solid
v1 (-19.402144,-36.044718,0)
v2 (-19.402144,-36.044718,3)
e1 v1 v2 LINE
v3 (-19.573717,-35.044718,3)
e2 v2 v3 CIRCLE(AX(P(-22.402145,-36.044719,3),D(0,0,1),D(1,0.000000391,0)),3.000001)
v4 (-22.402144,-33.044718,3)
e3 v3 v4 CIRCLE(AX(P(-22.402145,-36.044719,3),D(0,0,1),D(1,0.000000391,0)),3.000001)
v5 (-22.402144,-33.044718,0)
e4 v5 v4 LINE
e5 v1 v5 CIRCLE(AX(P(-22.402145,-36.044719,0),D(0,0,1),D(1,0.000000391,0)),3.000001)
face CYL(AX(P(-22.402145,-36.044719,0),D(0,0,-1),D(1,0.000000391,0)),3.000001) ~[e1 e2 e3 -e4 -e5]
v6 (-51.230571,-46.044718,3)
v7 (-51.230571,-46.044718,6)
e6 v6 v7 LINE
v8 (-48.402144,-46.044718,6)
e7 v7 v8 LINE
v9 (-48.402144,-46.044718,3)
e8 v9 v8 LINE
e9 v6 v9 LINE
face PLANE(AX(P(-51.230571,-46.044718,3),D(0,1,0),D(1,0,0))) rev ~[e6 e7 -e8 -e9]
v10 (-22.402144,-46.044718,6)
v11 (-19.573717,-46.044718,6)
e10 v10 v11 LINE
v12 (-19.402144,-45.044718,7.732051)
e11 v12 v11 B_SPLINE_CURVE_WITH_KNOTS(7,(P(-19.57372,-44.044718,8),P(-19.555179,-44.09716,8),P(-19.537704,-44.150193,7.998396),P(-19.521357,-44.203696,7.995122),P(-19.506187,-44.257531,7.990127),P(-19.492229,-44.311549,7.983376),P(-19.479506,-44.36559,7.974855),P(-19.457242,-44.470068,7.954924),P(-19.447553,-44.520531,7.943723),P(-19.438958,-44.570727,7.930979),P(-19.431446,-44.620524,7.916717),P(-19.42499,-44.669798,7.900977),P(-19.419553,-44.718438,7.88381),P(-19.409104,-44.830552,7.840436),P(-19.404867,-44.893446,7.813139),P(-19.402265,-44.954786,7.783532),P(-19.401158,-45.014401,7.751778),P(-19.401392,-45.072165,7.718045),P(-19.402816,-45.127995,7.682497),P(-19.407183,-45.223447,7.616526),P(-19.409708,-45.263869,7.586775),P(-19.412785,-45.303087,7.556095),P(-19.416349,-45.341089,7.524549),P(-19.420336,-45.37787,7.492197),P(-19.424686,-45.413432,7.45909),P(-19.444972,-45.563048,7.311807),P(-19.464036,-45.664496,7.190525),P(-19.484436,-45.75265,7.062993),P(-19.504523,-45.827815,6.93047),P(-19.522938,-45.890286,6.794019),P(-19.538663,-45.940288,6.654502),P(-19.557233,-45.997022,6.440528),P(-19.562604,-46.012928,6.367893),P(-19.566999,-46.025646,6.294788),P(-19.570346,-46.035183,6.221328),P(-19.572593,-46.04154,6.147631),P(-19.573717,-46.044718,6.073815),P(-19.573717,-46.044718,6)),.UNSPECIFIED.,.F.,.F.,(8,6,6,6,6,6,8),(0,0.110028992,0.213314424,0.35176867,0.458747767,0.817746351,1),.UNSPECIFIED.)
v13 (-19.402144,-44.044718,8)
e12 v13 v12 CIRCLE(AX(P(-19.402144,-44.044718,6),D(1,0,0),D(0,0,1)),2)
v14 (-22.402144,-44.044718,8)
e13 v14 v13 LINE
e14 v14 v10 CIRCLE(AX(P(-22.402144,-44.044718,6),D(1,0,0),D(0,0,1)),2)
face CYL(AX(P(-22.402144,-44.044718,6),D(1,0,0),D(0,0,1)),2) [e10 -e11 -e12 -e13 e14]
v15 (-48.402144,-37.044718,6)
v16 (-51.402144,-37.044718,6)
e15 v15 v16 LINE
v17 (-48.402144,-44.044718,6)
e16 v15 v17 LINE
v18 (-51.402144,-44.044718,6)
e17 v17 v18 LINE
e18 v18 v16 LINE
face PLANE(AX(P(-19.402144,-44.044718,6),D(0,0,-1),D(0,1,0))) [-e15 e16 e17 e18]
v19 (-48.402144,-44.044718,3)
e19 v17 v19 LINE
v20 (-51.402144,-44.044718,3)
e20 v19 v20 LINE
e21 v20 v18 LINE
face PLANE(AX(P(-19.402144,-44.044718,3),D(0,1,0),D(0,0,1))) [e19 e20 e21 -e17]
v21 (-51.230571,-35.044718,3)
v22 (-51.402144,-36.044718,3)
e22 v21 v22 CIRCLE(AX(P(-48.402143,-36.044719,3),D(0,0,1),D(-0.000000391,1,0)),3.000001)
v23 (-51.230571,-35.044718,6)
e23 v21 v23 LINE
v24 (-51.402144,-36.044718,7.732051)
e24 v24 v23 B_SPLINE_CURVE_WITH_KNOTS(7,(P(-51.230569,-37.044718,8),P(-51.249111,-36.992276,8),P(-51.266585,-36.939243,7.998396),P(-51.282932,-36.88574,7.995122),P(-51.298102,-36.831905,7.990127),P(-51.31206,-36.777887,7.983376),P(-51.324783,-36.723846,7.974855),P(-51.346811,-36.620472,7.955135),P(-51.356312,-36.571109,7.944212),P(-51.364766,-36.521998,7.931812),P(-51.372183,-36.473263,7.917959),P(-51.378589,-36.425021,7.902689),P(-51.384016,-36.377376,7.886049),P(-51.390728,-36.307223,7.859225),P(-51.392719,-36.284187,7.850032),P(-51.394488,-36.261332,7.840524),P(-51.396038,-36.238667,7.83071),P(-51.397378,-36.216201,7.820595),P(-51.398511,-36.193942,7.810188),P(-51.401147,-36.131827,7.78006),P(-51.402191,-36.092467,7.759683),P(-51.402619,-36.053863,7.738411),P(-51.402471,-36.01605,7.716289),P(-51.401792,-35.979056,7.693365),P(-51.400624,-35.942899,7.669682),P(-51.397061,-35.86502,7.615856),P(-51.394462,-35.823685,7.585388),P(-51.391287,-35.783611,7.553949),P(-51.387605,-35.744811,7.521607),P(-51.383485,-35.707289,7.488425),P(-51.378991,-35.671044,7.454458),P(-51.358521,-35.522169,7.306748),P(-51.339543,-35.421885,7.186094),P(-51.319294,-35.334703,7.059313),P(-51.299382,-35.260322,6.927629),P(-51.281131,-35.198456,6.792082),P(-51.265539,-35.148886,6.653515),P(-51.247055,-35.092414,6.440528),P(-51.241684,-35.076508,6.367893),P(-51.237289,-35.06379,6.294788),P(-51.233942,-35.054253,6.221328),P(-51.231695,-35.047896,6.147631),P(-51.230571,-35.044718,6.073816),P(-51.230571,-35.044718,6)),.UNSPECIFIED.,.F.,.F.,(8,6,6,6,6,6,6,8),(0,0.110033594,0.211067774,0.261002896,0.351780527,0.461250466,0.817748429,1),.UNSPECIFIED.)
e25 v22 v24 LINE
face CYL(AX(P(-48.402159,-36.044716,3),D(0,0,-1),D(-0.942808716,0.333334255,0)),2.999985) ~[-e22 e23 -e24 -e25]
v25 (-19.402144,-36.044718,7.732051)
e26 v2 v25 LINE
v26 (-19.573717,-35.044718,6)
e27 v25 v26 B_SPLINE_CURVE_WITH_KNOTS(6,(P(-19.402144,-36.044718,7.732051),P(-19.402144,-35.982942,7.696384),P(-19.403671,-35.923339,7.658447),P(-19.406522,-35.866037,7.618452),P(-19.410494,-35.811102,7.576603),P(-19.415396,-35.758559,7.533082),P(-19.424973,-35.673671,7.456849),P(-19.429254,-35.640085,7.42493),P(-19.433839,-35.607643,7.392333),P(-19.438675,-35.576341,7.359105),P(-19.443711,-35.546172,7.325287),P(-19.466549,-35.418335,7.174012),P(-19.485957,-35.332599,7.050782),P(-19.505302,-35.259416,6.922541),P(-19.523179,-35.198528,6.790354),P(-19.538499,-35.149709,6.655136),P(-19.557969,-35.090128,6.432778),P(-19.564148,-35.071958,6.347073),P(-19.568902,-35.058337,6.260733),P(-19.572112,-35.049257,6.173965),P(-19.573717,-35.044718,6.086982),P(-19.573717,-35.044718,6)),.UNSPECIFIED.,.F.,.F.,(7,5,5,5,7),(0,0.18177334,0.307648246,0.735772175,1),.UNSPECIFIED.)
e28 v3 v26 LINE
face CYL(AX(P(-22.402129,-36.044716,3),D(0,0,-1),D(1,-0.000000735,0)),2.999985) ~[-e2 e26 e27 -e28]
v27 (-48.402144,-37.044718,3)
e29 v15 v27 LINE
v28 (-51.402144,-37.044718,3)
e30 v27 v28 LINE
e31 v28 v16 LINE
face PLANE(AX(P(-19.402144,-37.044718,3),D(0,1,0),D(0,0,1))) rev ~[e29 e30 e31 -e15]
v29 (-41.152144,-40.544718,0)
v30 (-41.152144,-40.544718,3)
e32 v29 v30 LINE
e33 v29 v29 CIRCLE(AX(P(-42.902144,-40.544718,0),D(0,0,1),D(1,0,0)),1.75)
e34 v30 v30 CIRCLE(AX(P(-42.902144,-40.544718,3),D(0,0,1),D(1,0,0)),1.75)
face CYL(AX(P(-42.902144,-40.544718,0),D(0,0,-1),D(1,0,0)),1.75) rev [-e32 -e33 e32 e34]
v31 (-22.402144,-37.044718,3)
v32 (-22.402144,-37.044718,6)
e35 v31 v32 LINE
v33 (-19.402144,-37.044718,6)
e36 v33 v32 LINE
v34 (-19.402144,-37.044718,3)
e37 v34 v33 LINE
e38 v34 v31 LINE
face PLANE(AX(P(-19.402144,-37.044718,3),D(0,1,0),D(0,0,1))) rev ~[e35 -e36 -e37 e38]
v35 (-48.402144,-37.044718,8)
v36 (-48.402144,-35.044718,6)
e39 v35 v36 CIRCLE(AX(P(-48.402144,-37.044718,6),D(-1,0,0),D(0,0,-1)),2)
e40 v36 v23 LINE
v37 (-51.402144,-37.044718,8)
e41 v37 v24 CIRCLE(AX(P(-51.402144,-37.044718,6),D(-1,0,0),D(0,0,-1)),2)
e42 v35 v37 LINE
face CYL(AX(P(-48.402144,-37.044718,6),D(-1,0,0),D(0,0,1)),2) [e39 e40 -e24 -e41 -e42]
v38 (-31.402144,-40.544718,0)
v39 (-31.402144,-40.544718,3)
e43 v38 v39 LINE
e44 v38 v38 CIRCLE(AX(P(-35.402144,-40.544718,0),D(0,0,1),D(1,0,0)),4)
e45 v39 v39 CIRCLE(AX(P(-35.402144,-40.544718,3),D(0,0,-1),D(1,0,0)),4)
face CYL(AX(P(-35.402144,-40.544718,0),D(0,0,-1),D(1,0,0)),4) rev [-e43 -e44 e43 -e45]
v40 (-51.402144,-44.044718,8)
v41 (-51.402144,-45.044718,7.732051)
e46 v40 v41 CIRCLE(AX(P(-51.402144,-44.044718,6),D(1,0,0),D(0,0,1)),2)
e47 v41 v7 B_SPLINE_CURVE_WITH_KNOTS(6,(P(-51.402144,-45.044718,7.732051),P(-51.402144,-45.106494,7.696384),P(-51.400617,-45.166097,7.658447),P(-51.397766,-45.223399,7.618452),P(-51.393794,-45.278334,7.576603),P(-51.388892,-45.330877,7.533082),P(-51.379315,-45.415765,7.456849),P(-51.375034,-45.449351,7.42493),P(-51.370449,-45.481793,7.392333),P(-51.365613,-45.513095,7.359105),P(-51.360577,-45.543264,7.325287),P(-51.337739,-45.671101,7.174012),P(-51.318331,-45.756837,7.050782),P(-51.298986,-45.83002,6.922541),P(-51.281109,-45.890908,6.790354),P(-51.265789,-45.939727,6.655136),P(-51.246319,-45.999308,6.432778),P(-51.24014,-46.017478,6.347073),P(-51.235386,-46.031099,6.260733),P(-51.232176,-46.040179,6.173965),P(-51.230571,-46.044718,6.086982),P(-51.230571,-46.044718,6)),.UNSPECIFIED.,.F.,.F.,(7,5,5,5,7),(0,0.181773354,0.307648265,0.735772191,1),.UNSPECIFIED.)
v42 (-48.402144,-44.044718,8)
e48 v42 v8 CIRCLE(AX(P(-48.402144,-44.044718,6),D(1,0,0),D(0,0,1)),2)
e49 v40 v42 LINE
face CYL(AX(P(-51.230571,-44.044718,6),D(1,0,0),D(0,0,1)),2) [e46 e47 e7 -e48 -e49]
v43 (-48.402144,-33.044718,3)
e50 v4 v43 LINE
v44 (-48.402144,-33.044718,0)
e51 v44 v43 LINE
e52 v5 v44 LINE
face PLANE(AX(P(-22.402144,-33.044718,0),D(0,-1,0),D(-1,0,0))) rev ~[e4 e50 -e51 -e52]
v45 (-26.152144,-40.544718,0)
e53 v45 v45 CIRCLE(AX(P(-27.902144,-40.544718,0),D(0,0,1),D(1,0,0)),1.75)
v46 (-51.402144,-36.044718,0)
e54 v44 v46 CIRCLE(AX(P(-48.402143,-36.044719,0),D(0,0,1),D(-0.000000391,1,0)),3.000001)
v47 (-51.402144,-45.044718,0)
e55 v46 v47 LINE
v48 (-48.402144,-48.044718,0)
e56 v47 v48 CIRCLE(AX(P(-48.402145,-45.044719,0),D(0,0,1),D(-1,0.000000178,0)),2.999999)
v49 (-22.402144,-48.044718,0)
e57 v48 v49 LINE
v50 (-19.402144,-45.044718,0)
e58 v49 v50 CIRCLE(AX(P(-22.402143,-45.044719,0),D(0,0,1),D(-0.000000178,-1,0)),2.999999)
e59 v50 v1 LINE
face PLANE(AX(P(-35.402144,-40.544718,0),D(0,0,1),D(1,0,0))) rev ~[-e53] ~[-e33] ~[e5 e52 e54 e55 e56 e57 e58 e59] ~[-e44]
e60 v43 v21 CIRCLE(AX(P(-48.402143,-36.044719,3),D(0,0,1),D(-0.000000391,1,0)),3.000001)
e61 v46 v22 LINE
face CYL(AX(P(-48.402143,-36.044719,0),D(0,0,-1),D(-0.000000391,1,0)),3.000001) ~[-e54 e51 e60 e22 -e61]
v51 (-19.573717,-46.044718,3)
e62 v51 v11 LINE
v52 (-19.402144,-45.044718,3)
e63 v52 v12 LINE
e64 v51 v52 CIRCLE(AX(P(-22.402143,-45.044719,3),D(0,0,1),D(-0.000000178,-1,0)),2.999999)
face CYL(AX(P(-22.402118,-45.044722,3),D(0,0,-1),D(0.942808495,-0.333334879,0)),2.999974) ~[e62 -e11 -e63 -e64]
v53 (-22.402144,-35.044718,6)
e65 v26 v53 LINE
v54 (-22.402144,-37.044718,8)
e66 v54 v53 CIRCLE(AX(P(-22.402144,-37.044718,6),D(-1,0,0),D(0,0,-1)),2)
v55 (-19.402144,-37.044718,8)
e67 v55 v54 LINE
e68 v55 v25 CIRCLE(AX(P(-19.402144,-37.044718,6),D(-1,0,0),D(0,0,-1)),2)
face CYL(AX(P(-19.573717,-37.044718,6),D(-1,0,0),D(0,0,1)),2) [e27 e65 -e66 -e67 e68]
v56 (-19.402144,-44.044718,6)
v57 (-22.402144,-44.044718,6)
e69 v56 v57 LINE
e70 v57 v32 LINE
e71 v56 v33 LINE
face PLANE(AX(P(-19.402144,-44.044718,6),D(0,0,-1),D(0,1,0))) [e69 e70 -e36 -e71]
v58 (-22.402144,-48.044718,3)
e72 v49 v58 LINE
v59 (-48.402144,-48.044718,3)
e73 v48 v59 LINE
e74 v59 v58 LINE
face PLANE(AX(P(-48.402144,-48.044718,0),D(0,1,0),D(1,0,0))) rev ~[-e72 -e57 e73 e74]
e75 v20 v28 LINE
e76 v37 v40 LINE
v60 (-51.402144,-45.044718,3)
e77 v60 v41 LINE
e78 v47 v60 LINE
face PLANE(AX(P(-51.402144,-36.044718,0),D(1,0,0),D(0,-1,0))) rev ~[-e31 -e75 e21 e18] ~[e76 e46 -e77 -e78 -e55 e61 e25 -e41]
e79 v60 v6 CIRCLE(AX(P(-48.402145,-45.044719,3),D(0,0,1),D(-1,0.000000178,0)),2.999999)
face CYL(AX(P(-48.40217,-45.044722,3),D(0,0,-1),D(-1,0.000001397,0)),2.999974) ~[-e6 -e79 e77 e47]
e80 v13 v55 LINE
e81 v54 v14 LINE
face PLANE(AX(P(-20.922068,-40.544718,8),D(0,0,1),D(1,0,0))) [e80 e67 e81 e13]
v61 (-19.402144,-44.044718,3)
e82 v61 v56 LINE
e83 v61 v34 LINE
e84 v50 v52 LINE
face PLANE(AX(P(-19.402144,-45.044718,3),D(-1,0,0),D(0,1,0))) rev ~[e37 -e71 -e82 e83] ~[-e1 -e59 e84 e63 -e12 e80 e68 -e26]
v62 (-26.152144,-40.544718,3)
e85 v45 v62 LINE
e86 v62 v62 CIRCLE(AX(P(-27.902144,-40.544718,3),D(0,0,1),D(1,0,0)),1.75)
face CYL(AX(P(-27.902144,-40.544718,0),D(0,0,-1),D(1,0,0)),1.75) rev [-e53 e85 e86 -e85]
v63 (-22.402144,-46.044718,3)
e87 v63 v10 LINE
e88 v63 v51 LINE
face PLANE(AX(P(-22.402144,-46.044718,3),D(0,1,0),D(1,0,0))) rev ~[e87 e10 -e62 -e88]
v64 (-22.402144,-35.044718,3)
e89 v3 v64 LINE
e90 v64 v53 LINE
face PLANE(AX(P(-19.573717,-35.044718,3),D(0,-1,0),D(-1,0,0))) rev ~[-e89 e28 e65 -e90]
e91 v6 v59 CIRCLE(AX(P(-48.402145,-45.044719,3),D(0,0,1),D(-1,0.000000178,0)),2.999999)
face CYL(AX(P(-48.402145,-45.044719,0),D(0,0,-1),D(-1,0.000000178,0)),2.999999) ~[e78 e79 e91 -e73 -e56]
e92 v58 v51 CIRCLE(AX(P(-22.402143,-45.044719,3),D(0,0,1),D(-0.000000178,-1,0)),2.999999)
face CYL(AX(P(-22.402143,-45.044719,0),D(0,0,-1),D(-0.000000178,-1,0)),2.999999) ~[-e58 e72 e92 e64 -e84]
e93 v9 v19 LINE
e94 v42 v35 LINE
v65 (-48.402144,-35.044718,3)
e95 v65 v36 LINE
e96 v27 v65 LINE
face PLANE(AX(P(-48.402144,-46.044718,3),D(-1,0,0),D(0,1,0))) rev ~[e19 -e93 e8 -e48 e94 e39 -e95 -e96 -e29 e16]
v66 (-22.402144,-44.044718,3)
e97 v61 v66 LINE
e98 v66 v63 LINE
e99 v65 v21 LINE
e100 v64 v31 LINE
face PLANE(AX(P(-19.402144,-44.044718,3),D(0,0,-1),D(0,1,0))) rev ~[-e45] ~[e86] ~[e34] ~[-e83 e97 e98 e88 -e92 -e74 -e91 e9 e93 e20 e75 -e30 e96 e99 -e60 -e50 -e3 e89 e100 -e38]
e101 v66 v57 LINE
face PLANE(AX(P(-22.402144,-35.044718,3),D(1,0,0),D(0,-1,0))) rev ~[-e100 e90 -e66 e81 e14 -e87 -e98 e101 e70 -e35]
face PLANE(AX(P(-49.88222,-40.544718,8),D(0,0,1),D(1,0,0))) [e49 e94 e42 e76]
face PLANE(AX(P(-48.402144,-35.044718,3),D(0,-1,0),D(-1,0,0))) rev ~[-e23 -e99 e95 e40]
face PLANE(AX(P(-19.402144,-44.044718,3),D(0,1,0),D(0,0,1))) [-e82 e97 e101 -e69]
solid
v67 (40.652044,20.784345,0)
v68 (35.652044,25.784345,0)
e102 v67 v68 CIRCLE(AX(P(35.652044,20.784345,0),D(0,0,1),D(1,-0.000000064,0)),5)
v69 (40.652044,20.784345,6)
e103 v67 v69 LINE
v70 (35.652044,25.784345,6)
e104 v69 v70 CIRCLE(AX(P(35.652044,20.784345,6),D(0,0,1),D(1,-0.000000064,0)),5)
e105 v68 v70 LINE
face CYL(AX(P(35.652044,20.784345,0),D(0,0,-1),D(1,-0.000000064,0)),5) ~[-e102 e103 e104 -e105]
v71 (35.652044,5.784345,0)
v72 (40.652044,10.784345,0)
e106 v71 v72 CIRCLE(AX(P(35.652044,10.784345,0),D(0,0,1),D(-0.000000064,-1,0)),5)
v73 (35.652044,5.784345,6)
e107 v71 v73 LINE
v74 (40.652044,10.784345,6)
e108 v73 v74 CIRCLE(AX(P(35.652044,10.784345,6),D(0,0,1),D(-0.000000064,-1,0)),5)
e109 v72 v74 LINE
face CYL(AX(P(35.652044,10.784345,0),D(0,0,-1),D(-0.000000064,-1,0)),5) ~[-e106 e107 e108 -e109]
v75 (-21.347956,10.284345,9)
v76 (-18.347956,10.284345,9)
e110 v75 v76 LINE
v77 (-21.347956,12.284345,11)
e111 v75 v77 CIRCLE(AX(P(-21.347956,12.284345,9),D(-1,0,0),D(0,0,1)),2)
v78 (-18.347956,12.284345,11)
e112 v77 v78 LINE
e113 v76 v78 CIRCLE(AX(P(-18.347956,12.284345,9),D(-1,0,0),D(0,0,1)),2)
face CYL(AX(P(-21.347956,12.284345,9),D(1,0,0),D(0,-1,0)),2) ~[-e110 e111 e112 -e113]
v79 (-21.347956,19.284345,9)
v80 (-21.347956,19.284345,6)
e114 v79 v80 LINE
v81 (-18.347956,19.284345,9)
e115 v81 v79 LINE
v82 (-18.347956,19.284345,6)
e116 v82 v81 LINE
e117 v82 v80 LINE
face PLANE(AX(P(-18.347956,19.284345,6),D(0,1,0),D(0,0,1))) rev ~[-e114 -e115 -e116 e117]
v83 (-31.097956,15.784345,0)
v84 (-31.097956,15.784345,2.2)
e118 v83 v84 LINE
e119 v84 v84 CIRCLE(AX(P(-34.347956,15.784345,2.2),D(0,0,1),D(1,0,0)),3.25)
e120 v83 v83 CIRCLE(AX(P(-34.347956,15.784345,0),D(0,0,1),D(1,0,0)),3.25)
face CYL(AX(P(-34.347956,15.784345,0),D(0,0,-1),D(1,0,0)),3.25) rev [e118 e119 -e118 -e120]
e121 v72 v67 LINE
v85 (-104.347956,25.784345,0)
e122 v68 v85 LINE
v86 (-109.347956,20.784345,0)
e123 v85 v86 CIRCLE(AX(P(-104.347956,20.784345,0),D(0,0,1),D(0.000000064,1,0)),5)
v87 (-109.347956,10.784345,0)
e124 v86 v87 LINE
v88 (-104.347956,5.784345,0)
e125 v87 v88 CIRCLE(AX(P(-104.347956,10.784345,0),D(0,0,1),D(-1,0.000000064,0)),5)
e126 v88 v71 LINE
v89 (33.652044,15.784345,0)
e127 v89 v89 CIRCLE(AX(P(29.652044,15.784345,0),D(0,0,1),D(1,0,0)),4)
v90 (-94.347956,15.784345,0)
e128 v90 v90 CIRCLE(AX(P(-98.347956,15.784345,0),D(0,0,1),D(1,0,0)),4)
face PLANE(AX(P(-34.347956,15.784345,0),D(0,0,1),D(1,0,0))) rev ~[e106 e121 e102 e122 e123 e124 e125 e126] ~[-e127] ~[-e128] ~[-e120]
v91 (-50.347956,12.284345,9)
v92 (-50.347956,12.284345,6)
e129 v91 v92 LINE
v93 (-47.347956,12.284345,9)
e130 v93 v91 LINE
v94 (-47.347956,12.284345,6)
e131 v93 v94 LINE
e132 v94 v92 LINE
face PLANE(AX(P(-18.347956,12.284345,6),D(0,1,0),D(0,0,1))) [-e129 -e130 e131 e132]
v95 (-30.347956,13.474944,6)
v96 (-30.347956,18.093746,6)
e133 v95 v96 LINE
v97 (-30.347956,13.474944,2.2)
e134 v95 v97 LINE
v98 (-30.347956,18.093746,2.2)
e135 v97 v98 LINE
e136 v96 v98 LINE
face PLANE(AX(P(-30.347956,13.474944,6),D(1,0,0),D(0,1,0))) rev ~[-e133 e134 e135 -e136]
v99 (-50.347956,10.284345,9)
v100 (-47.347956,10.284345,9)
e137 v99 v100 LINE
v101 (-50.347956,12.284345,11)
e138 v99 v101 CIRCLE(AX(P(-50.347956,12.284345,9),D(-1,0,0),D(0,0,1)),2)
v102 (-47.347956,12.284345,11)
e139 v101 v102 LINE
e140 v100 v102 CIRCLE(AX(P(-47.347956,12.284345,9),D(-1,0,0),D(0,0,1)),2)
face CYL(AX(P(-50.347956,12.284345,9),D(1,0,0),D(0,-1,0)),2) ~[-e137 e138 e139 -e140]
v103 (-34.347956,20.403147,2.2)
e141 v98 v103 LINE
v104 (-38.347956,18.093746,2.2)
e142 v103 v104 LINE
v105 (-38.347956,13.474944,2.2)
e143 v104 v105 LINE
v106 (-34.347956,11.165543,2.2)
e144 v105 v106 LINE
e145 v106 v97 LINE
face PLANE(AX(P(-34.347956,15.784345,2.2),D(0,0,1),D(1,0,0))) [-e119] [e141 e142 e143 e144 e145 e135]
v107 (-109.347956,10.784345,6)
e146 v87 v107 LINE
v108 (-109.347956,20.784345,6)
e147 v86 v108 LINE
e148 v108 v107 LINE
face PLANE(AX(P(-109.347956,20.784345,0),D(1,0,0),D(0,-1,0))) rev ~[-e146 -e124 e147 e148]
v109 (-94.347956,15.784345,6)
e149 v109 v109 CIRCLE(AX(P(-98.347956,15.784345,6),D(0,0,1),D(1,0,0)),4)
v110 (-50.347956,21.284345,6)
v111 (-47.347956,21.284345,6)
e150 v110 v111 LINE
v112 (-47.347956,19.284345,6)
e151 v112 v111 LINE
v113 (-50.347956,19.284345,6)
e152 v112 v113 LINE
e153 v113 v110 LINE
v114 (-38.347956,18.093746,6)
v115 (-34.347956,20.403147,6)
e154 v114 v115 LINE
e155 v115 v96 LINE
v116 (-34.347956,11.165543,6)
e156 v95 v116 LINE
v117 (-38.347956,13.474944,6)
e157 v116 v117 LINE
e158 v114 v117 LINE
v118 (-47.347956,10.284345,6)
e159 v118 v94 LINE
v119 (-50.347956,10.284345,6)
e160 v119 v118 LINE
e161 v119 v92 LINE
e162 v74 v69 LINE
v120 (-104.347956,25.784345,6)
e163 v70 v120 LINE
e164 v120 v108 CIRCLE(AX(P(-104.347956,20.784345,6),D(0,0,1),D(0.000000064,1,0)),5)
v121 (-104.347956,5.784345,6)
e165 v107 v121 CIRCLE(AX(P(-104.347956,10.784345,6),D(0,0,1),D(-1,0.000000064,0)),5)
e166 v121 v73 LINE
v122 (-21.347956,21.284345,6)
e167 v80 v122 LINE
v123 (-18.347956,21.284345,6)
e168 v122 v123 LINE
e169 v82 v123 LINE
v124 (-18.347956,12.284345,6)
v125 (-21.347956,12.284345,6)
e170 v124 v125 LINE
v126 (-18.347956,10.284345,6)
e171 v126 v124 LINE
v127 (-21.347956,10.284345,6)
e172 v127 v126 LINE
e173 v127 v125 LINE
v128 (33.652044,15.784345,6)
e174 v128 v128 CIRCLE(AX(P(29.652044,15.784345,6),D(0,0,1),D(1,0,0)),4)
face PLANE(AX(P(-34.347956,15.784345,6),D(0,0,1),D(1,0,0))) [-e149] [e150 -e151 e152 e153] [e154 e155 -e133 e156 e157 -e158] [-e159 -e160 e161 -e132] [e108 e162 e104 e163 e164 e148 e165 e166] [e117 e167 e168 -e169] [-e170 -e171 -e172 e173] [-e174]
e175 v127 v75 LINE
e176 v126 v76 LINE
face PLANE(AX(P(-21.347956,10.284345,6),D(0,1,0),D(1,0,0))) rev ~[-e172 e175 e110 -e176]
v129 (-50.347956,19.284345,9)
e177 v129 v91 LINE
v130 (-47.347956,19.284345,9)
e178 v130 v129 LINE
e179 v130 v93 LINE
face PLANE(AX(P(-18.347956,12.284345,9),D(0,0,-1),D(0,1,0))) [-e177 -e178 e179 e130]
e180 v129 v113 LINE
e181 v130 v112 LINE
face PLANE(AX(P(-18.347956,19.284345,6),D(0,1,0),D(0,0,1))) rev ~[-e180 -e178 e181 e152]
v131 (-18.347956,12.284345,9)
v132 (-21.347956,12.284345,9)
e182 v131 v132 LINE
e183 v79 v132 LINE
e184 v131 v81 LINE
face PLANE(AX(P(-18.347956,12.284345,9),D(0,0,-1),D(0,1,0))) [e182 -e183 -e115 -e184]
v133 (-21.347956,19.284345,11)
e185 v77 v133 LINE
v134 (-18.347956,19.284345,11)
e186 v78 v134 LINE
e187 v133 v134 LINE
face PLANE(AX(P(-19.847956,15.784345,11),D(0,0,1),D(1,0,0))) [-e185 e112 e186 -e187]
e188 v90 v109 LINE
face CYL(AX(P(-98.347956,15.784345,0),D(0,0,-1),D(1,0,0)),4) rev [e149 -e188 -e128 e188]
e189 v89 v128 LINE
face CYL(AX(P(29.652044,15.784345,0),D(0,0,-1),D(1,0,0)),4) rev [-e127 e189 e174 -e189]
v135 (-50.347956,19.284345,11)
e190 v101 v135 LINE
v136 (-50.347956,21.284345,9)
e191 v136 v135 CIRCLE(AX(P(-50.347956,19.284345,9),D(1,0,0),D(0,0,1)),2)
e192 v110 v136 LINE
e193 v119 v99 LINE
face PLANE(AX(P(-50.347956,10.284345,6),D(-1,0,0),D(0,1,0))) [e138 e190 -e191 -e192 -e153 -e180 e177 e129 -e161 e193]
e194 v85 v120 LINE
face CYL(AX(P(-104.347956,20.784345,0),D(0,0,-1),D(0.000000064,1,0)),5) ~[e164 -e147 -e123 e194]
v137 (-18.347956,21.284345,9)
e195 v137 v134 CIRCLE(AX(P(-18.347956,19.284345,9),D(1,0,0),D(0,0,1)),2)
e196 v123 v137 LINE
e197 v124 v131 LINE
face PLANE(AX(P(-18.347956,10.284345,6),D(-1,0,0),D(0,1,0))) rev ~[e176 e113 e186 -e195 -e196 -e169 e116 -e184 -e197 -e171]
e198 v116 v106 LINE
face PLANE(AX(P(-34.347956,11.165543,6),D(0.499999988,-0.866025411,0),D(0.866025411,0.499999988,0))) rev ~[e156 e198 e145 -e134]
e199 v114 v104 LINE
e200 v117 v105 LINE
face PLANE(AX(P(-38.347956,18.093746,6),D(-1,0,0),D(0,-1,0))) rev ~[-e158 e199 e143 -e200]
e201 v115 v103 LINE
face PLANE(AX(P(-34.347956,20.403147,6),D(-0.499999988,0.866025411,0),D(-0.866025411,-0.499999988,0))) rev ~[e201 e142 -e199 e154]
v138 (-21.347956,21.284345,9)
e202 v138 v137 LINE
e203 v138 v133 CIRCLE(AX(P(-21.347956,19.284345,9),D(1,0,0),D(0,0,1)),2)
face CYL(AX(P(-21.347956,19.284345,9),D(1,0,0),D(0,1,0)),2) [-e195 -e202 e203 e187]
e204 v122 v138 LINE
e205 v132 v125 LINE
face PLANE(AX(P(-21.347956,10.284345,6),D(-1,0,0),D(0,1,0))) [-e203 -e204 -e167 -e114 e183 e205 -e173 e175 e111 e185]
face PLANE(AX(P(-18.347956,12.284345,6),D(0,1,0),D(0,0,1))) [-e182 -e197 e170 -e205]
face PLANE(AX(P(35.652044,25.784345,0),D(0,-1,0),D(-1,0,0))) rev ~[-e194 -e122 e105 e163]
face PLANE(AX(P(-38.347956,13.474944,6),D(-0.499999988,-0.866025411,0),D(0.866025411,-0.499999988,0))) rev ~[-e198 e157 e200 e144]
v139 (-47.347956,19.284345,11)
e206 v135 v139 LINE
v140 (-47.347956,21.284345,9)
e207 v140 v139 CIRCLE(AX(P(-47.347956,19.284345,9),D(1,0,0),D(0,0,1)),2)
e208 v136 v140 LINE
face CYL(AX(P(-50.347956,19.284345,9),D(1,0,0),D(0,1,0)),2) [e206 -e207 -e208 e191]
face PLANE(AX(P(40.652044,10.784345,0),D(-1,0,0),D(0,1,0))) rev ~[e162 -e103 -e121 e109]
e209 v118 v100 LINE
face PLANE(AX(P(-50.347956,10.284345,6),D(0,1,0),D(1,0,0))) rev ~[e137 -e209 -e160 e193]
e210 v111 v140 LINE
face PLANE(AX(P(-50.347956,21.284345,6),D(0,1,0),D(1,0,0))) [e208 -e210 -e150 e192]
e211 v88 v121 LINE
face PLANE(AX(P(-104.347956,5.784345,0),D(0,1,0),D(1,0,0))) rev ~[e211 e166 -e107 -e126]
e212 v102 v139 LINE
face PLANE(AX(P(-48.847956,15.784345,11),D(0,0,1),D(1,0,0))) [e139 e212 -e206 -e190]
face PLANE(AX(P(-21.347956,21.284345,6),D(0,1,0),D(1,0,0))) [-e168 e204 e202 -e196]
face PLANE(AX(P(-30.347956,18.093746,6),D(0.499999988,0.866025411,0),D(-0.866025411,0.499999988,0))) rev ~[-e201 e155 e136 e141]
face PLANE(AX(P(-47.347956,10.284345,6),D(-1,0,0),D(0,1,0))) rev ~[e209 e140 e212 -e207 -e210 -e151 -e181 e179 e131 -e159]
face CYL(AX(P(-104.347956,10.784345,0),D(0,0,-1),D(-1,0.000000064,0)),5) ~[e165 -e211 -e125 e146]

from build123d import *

# Parameters (mm, degrees)
F0_R      = 4
F0_R_2    = 3.25
F1_DEPTH  = 6
F2_R      = 3.25
F3_DEPTH  = 3.8
F2_W      = 3
F2_H      = 11
F4_DEPTH  = 5
F5_R      = 2
F6_W      = 7
F6_H      = 3
F7_DEPTH  = 35
F8_R      = 1.75
F8_R_2    = 4
F9_DEPTH  = 3
F11_DEPTH = 5
F12_W     = 7
F12_H     = 3
F13_DEPTH = 35
F14_R     = 2


with BuildPart() as f1:
    # F0 (on Top) → F1 (new body)
    with BuildSketch(Plane.XY):
        with BuildLine():
            Line((35.652044, 25.784345), (-104.347956, 25.784345))
            ThreePointArc((-104.347956, 25.784345), (-107.88349, 24.319879), (-109.347956, 20.784345))
            Line((-109.347956, 20.784345), (-109.347956, 10.784345))
            ThreePointArc((-109.347956, 10.784345), (-107.88349, 7.248811), (-104.347956, 5.784345))
            Line((-104.347956, 5.784345), (35.652044, 5.784345))
            ThreePointArc((35.652044, 5.784345), (39.187578, 7.248811), (40.652044, 10.784345))
            Line((40.652044, 10.784345), (40.652044, 20.784345))
            ThreePointArc((40.652044, 20.784345), (39.187578, 24.319879), (35.652044, 25.784345))
        make_face()
        with Locations((-98.347956, 15.784345)):
            Circle(F0_R, mode=Mode.SUBTRACT)
        with Locations((-34.347956, 15.784345)):
            Circle(F0_R_2, mode=Mode.SUBTRACT)
        with Locations((29.652044, 15.784345)):
            Circle(F0_R, mode=Mode.SUBTRACT)
    extrude(amount=F1_DEPTH)

    # F2 (on face) → F3 (cut)
    with BuildSketch(Plane.XY.offset(6)):
        Polygon((-30.347956, 13.474944), (-30.347956, 18.093746), (-34.347956, 20.403147), (-38.347956, 18.093746), (-38.347956, 13.474944), (-34.347956, 11.165543), align=None)
        with Locations((-34.347956, 15.784345)):
            Circle(F2_R, mode=Mode.SUBTRACT)
    extrude(amount=-F3_DEPTH, mode=Mode.SUBTRACT)

    # F2 (on face) → F4 (join)
    with BuildSketch(Plane.XY.offset(6)):
        with Locations((-19.847956, 15.784345)):
            Rectangle(F2_W, F2_H)
        with Locations((-48.847956, 15.784345)):
            Rectangle(F2_W, F2_H)
    extrude(amount=F4_DEPTH)

    # F5
    f5_edges = [f1.edges().sort_by_distance(p)[0] for p in [
        (-19.847956, 21.284345, 11),
        (-19.847956, 10.284345, 11),
        (-48.847956, 21.284345, 11),
        (-48.847956, 10.284345, 11),
    ]]
    fillet(f5_edges, radius=F5_R)

    # F6 (on face) → F7 (cut)
    with BuildSketch(Plane.YZ.offset(-18.347956)):
        with Locations((15.784345, 7.5)):
            Rectangle(F6_W, F6_H)
    extrude(amount=-F7_DEPTH, mode=Mode.SUBTRACT)


with BuildPart() as f9:
    # F8 (on Top) → F9 (new body)
    with BuildSketch(Plane.XY):
        with BuildLine():
            Line((-22.402144, -33.044718), (-48.402144, -33.044718))
            ThreePointArc((-48.402144, -33.044718), (-50.523464, -33.923398), (-51.402144, -36.044718))
            Line((-51.402144, -36.044718), (-51.402144, -45.044718))
            ThreePointArc((-51.402144, -45.044718), (-50.523464, -47.166039), (-48.402144, -48.044718))
            Line((-48.402144, -48.044718), (-22.402144, -48.044718))
            ThreePointArc((-22.402144, -48.044718), (-20.280824, -47.166039), (-19.402144, -45.044718))
            Line((-19.402144, -45.044718), (-19.402144, -36.044718))
            ThreePointArc((-19.402144, -36.044718), (-20.280824, -33.923398), (-22.402144, -33.044718))
        make_face()
        with Locations((-42.902144, -40.544718)):
            Circle(F8_R, mode=Mode.SUBTRACT)
        with Locations((-35.402144, -40.544718)):
            Circle(F8_R_2, mode=Mode.SUBTRACT)
        with Locations((-27.902144, -40.544718)):
            Circle(F8_R, mode=Mode.SUBTRACT)
    extrude(amount=F9_DEPTH)

    # F10 (on face) → F11 (join)
    with BuildSketch(Plane.XY.offset(3)):
        with BuildLine():
            ThreePointArc((-19.402144, -36.044718), (-19.445348, -35.537413), (-19.573717, -35.044718))
            Line((-19.573717, -35.044718), (-22.402144, -35.044718))
            Line((-22.402144, -35.044718), (-22.402144, -46.044718))
            Line((-22.402144, -46.044718), (-19.573717, -46.044718))
            ThreePointArc((-19.573717, -46.044718), (-19.445348, -45.552024), (-19.402144, -45.044718))
            Line((-19.402144, -45.044718), (-19.402144, -36.044718))
        make_face()
        with BuildLine():
            Line((-48.402144, -35.044718), (-51.230571, -35.044718))
            ThreePointArc((-51.230571, -35.044718), (-51.35894, -35.537413), (-51.402144, -36.044718))
            Line((-51.402144, -36.044718), (-51.402144, -45.044718))
            ThreePointArc((-51.402144, -45.044718), (-51.35894, -45.552024), (-51.230571, -46.044718))
            Line((-51.230571, -46.044718), (-48.402144, -46.044718))
            Line((-48.402144, -46.044718), (-48.402144, -35.044718))
        make_face()
    extrude(amount=F11_DEPTH)

    # F12 (on face) → F13 (cut)
    with BuildSketch(Plane.YZ.offset(-19.402144)):
        with Locations((-40.544718, 4.5)):
            Rectangle(F12_W, F12_H)
    extrude(amount=-F13_DEPTH, mode=Mode.SUBTRACT)

    # F14
    f14_edges = [f9.edges().sort_by_distance(p)[0] for p in [
        (-20.987931, -46.044718, 8),
        (-49.816358, -46.044718, 8),
        (-49.816358, -35.044718, 8),
        (-20.987931, -35.044718, 8),
    ]]
    fillet(f14_edges, radius=F14_R)


solid = Compound([f1.part, f9.part])
